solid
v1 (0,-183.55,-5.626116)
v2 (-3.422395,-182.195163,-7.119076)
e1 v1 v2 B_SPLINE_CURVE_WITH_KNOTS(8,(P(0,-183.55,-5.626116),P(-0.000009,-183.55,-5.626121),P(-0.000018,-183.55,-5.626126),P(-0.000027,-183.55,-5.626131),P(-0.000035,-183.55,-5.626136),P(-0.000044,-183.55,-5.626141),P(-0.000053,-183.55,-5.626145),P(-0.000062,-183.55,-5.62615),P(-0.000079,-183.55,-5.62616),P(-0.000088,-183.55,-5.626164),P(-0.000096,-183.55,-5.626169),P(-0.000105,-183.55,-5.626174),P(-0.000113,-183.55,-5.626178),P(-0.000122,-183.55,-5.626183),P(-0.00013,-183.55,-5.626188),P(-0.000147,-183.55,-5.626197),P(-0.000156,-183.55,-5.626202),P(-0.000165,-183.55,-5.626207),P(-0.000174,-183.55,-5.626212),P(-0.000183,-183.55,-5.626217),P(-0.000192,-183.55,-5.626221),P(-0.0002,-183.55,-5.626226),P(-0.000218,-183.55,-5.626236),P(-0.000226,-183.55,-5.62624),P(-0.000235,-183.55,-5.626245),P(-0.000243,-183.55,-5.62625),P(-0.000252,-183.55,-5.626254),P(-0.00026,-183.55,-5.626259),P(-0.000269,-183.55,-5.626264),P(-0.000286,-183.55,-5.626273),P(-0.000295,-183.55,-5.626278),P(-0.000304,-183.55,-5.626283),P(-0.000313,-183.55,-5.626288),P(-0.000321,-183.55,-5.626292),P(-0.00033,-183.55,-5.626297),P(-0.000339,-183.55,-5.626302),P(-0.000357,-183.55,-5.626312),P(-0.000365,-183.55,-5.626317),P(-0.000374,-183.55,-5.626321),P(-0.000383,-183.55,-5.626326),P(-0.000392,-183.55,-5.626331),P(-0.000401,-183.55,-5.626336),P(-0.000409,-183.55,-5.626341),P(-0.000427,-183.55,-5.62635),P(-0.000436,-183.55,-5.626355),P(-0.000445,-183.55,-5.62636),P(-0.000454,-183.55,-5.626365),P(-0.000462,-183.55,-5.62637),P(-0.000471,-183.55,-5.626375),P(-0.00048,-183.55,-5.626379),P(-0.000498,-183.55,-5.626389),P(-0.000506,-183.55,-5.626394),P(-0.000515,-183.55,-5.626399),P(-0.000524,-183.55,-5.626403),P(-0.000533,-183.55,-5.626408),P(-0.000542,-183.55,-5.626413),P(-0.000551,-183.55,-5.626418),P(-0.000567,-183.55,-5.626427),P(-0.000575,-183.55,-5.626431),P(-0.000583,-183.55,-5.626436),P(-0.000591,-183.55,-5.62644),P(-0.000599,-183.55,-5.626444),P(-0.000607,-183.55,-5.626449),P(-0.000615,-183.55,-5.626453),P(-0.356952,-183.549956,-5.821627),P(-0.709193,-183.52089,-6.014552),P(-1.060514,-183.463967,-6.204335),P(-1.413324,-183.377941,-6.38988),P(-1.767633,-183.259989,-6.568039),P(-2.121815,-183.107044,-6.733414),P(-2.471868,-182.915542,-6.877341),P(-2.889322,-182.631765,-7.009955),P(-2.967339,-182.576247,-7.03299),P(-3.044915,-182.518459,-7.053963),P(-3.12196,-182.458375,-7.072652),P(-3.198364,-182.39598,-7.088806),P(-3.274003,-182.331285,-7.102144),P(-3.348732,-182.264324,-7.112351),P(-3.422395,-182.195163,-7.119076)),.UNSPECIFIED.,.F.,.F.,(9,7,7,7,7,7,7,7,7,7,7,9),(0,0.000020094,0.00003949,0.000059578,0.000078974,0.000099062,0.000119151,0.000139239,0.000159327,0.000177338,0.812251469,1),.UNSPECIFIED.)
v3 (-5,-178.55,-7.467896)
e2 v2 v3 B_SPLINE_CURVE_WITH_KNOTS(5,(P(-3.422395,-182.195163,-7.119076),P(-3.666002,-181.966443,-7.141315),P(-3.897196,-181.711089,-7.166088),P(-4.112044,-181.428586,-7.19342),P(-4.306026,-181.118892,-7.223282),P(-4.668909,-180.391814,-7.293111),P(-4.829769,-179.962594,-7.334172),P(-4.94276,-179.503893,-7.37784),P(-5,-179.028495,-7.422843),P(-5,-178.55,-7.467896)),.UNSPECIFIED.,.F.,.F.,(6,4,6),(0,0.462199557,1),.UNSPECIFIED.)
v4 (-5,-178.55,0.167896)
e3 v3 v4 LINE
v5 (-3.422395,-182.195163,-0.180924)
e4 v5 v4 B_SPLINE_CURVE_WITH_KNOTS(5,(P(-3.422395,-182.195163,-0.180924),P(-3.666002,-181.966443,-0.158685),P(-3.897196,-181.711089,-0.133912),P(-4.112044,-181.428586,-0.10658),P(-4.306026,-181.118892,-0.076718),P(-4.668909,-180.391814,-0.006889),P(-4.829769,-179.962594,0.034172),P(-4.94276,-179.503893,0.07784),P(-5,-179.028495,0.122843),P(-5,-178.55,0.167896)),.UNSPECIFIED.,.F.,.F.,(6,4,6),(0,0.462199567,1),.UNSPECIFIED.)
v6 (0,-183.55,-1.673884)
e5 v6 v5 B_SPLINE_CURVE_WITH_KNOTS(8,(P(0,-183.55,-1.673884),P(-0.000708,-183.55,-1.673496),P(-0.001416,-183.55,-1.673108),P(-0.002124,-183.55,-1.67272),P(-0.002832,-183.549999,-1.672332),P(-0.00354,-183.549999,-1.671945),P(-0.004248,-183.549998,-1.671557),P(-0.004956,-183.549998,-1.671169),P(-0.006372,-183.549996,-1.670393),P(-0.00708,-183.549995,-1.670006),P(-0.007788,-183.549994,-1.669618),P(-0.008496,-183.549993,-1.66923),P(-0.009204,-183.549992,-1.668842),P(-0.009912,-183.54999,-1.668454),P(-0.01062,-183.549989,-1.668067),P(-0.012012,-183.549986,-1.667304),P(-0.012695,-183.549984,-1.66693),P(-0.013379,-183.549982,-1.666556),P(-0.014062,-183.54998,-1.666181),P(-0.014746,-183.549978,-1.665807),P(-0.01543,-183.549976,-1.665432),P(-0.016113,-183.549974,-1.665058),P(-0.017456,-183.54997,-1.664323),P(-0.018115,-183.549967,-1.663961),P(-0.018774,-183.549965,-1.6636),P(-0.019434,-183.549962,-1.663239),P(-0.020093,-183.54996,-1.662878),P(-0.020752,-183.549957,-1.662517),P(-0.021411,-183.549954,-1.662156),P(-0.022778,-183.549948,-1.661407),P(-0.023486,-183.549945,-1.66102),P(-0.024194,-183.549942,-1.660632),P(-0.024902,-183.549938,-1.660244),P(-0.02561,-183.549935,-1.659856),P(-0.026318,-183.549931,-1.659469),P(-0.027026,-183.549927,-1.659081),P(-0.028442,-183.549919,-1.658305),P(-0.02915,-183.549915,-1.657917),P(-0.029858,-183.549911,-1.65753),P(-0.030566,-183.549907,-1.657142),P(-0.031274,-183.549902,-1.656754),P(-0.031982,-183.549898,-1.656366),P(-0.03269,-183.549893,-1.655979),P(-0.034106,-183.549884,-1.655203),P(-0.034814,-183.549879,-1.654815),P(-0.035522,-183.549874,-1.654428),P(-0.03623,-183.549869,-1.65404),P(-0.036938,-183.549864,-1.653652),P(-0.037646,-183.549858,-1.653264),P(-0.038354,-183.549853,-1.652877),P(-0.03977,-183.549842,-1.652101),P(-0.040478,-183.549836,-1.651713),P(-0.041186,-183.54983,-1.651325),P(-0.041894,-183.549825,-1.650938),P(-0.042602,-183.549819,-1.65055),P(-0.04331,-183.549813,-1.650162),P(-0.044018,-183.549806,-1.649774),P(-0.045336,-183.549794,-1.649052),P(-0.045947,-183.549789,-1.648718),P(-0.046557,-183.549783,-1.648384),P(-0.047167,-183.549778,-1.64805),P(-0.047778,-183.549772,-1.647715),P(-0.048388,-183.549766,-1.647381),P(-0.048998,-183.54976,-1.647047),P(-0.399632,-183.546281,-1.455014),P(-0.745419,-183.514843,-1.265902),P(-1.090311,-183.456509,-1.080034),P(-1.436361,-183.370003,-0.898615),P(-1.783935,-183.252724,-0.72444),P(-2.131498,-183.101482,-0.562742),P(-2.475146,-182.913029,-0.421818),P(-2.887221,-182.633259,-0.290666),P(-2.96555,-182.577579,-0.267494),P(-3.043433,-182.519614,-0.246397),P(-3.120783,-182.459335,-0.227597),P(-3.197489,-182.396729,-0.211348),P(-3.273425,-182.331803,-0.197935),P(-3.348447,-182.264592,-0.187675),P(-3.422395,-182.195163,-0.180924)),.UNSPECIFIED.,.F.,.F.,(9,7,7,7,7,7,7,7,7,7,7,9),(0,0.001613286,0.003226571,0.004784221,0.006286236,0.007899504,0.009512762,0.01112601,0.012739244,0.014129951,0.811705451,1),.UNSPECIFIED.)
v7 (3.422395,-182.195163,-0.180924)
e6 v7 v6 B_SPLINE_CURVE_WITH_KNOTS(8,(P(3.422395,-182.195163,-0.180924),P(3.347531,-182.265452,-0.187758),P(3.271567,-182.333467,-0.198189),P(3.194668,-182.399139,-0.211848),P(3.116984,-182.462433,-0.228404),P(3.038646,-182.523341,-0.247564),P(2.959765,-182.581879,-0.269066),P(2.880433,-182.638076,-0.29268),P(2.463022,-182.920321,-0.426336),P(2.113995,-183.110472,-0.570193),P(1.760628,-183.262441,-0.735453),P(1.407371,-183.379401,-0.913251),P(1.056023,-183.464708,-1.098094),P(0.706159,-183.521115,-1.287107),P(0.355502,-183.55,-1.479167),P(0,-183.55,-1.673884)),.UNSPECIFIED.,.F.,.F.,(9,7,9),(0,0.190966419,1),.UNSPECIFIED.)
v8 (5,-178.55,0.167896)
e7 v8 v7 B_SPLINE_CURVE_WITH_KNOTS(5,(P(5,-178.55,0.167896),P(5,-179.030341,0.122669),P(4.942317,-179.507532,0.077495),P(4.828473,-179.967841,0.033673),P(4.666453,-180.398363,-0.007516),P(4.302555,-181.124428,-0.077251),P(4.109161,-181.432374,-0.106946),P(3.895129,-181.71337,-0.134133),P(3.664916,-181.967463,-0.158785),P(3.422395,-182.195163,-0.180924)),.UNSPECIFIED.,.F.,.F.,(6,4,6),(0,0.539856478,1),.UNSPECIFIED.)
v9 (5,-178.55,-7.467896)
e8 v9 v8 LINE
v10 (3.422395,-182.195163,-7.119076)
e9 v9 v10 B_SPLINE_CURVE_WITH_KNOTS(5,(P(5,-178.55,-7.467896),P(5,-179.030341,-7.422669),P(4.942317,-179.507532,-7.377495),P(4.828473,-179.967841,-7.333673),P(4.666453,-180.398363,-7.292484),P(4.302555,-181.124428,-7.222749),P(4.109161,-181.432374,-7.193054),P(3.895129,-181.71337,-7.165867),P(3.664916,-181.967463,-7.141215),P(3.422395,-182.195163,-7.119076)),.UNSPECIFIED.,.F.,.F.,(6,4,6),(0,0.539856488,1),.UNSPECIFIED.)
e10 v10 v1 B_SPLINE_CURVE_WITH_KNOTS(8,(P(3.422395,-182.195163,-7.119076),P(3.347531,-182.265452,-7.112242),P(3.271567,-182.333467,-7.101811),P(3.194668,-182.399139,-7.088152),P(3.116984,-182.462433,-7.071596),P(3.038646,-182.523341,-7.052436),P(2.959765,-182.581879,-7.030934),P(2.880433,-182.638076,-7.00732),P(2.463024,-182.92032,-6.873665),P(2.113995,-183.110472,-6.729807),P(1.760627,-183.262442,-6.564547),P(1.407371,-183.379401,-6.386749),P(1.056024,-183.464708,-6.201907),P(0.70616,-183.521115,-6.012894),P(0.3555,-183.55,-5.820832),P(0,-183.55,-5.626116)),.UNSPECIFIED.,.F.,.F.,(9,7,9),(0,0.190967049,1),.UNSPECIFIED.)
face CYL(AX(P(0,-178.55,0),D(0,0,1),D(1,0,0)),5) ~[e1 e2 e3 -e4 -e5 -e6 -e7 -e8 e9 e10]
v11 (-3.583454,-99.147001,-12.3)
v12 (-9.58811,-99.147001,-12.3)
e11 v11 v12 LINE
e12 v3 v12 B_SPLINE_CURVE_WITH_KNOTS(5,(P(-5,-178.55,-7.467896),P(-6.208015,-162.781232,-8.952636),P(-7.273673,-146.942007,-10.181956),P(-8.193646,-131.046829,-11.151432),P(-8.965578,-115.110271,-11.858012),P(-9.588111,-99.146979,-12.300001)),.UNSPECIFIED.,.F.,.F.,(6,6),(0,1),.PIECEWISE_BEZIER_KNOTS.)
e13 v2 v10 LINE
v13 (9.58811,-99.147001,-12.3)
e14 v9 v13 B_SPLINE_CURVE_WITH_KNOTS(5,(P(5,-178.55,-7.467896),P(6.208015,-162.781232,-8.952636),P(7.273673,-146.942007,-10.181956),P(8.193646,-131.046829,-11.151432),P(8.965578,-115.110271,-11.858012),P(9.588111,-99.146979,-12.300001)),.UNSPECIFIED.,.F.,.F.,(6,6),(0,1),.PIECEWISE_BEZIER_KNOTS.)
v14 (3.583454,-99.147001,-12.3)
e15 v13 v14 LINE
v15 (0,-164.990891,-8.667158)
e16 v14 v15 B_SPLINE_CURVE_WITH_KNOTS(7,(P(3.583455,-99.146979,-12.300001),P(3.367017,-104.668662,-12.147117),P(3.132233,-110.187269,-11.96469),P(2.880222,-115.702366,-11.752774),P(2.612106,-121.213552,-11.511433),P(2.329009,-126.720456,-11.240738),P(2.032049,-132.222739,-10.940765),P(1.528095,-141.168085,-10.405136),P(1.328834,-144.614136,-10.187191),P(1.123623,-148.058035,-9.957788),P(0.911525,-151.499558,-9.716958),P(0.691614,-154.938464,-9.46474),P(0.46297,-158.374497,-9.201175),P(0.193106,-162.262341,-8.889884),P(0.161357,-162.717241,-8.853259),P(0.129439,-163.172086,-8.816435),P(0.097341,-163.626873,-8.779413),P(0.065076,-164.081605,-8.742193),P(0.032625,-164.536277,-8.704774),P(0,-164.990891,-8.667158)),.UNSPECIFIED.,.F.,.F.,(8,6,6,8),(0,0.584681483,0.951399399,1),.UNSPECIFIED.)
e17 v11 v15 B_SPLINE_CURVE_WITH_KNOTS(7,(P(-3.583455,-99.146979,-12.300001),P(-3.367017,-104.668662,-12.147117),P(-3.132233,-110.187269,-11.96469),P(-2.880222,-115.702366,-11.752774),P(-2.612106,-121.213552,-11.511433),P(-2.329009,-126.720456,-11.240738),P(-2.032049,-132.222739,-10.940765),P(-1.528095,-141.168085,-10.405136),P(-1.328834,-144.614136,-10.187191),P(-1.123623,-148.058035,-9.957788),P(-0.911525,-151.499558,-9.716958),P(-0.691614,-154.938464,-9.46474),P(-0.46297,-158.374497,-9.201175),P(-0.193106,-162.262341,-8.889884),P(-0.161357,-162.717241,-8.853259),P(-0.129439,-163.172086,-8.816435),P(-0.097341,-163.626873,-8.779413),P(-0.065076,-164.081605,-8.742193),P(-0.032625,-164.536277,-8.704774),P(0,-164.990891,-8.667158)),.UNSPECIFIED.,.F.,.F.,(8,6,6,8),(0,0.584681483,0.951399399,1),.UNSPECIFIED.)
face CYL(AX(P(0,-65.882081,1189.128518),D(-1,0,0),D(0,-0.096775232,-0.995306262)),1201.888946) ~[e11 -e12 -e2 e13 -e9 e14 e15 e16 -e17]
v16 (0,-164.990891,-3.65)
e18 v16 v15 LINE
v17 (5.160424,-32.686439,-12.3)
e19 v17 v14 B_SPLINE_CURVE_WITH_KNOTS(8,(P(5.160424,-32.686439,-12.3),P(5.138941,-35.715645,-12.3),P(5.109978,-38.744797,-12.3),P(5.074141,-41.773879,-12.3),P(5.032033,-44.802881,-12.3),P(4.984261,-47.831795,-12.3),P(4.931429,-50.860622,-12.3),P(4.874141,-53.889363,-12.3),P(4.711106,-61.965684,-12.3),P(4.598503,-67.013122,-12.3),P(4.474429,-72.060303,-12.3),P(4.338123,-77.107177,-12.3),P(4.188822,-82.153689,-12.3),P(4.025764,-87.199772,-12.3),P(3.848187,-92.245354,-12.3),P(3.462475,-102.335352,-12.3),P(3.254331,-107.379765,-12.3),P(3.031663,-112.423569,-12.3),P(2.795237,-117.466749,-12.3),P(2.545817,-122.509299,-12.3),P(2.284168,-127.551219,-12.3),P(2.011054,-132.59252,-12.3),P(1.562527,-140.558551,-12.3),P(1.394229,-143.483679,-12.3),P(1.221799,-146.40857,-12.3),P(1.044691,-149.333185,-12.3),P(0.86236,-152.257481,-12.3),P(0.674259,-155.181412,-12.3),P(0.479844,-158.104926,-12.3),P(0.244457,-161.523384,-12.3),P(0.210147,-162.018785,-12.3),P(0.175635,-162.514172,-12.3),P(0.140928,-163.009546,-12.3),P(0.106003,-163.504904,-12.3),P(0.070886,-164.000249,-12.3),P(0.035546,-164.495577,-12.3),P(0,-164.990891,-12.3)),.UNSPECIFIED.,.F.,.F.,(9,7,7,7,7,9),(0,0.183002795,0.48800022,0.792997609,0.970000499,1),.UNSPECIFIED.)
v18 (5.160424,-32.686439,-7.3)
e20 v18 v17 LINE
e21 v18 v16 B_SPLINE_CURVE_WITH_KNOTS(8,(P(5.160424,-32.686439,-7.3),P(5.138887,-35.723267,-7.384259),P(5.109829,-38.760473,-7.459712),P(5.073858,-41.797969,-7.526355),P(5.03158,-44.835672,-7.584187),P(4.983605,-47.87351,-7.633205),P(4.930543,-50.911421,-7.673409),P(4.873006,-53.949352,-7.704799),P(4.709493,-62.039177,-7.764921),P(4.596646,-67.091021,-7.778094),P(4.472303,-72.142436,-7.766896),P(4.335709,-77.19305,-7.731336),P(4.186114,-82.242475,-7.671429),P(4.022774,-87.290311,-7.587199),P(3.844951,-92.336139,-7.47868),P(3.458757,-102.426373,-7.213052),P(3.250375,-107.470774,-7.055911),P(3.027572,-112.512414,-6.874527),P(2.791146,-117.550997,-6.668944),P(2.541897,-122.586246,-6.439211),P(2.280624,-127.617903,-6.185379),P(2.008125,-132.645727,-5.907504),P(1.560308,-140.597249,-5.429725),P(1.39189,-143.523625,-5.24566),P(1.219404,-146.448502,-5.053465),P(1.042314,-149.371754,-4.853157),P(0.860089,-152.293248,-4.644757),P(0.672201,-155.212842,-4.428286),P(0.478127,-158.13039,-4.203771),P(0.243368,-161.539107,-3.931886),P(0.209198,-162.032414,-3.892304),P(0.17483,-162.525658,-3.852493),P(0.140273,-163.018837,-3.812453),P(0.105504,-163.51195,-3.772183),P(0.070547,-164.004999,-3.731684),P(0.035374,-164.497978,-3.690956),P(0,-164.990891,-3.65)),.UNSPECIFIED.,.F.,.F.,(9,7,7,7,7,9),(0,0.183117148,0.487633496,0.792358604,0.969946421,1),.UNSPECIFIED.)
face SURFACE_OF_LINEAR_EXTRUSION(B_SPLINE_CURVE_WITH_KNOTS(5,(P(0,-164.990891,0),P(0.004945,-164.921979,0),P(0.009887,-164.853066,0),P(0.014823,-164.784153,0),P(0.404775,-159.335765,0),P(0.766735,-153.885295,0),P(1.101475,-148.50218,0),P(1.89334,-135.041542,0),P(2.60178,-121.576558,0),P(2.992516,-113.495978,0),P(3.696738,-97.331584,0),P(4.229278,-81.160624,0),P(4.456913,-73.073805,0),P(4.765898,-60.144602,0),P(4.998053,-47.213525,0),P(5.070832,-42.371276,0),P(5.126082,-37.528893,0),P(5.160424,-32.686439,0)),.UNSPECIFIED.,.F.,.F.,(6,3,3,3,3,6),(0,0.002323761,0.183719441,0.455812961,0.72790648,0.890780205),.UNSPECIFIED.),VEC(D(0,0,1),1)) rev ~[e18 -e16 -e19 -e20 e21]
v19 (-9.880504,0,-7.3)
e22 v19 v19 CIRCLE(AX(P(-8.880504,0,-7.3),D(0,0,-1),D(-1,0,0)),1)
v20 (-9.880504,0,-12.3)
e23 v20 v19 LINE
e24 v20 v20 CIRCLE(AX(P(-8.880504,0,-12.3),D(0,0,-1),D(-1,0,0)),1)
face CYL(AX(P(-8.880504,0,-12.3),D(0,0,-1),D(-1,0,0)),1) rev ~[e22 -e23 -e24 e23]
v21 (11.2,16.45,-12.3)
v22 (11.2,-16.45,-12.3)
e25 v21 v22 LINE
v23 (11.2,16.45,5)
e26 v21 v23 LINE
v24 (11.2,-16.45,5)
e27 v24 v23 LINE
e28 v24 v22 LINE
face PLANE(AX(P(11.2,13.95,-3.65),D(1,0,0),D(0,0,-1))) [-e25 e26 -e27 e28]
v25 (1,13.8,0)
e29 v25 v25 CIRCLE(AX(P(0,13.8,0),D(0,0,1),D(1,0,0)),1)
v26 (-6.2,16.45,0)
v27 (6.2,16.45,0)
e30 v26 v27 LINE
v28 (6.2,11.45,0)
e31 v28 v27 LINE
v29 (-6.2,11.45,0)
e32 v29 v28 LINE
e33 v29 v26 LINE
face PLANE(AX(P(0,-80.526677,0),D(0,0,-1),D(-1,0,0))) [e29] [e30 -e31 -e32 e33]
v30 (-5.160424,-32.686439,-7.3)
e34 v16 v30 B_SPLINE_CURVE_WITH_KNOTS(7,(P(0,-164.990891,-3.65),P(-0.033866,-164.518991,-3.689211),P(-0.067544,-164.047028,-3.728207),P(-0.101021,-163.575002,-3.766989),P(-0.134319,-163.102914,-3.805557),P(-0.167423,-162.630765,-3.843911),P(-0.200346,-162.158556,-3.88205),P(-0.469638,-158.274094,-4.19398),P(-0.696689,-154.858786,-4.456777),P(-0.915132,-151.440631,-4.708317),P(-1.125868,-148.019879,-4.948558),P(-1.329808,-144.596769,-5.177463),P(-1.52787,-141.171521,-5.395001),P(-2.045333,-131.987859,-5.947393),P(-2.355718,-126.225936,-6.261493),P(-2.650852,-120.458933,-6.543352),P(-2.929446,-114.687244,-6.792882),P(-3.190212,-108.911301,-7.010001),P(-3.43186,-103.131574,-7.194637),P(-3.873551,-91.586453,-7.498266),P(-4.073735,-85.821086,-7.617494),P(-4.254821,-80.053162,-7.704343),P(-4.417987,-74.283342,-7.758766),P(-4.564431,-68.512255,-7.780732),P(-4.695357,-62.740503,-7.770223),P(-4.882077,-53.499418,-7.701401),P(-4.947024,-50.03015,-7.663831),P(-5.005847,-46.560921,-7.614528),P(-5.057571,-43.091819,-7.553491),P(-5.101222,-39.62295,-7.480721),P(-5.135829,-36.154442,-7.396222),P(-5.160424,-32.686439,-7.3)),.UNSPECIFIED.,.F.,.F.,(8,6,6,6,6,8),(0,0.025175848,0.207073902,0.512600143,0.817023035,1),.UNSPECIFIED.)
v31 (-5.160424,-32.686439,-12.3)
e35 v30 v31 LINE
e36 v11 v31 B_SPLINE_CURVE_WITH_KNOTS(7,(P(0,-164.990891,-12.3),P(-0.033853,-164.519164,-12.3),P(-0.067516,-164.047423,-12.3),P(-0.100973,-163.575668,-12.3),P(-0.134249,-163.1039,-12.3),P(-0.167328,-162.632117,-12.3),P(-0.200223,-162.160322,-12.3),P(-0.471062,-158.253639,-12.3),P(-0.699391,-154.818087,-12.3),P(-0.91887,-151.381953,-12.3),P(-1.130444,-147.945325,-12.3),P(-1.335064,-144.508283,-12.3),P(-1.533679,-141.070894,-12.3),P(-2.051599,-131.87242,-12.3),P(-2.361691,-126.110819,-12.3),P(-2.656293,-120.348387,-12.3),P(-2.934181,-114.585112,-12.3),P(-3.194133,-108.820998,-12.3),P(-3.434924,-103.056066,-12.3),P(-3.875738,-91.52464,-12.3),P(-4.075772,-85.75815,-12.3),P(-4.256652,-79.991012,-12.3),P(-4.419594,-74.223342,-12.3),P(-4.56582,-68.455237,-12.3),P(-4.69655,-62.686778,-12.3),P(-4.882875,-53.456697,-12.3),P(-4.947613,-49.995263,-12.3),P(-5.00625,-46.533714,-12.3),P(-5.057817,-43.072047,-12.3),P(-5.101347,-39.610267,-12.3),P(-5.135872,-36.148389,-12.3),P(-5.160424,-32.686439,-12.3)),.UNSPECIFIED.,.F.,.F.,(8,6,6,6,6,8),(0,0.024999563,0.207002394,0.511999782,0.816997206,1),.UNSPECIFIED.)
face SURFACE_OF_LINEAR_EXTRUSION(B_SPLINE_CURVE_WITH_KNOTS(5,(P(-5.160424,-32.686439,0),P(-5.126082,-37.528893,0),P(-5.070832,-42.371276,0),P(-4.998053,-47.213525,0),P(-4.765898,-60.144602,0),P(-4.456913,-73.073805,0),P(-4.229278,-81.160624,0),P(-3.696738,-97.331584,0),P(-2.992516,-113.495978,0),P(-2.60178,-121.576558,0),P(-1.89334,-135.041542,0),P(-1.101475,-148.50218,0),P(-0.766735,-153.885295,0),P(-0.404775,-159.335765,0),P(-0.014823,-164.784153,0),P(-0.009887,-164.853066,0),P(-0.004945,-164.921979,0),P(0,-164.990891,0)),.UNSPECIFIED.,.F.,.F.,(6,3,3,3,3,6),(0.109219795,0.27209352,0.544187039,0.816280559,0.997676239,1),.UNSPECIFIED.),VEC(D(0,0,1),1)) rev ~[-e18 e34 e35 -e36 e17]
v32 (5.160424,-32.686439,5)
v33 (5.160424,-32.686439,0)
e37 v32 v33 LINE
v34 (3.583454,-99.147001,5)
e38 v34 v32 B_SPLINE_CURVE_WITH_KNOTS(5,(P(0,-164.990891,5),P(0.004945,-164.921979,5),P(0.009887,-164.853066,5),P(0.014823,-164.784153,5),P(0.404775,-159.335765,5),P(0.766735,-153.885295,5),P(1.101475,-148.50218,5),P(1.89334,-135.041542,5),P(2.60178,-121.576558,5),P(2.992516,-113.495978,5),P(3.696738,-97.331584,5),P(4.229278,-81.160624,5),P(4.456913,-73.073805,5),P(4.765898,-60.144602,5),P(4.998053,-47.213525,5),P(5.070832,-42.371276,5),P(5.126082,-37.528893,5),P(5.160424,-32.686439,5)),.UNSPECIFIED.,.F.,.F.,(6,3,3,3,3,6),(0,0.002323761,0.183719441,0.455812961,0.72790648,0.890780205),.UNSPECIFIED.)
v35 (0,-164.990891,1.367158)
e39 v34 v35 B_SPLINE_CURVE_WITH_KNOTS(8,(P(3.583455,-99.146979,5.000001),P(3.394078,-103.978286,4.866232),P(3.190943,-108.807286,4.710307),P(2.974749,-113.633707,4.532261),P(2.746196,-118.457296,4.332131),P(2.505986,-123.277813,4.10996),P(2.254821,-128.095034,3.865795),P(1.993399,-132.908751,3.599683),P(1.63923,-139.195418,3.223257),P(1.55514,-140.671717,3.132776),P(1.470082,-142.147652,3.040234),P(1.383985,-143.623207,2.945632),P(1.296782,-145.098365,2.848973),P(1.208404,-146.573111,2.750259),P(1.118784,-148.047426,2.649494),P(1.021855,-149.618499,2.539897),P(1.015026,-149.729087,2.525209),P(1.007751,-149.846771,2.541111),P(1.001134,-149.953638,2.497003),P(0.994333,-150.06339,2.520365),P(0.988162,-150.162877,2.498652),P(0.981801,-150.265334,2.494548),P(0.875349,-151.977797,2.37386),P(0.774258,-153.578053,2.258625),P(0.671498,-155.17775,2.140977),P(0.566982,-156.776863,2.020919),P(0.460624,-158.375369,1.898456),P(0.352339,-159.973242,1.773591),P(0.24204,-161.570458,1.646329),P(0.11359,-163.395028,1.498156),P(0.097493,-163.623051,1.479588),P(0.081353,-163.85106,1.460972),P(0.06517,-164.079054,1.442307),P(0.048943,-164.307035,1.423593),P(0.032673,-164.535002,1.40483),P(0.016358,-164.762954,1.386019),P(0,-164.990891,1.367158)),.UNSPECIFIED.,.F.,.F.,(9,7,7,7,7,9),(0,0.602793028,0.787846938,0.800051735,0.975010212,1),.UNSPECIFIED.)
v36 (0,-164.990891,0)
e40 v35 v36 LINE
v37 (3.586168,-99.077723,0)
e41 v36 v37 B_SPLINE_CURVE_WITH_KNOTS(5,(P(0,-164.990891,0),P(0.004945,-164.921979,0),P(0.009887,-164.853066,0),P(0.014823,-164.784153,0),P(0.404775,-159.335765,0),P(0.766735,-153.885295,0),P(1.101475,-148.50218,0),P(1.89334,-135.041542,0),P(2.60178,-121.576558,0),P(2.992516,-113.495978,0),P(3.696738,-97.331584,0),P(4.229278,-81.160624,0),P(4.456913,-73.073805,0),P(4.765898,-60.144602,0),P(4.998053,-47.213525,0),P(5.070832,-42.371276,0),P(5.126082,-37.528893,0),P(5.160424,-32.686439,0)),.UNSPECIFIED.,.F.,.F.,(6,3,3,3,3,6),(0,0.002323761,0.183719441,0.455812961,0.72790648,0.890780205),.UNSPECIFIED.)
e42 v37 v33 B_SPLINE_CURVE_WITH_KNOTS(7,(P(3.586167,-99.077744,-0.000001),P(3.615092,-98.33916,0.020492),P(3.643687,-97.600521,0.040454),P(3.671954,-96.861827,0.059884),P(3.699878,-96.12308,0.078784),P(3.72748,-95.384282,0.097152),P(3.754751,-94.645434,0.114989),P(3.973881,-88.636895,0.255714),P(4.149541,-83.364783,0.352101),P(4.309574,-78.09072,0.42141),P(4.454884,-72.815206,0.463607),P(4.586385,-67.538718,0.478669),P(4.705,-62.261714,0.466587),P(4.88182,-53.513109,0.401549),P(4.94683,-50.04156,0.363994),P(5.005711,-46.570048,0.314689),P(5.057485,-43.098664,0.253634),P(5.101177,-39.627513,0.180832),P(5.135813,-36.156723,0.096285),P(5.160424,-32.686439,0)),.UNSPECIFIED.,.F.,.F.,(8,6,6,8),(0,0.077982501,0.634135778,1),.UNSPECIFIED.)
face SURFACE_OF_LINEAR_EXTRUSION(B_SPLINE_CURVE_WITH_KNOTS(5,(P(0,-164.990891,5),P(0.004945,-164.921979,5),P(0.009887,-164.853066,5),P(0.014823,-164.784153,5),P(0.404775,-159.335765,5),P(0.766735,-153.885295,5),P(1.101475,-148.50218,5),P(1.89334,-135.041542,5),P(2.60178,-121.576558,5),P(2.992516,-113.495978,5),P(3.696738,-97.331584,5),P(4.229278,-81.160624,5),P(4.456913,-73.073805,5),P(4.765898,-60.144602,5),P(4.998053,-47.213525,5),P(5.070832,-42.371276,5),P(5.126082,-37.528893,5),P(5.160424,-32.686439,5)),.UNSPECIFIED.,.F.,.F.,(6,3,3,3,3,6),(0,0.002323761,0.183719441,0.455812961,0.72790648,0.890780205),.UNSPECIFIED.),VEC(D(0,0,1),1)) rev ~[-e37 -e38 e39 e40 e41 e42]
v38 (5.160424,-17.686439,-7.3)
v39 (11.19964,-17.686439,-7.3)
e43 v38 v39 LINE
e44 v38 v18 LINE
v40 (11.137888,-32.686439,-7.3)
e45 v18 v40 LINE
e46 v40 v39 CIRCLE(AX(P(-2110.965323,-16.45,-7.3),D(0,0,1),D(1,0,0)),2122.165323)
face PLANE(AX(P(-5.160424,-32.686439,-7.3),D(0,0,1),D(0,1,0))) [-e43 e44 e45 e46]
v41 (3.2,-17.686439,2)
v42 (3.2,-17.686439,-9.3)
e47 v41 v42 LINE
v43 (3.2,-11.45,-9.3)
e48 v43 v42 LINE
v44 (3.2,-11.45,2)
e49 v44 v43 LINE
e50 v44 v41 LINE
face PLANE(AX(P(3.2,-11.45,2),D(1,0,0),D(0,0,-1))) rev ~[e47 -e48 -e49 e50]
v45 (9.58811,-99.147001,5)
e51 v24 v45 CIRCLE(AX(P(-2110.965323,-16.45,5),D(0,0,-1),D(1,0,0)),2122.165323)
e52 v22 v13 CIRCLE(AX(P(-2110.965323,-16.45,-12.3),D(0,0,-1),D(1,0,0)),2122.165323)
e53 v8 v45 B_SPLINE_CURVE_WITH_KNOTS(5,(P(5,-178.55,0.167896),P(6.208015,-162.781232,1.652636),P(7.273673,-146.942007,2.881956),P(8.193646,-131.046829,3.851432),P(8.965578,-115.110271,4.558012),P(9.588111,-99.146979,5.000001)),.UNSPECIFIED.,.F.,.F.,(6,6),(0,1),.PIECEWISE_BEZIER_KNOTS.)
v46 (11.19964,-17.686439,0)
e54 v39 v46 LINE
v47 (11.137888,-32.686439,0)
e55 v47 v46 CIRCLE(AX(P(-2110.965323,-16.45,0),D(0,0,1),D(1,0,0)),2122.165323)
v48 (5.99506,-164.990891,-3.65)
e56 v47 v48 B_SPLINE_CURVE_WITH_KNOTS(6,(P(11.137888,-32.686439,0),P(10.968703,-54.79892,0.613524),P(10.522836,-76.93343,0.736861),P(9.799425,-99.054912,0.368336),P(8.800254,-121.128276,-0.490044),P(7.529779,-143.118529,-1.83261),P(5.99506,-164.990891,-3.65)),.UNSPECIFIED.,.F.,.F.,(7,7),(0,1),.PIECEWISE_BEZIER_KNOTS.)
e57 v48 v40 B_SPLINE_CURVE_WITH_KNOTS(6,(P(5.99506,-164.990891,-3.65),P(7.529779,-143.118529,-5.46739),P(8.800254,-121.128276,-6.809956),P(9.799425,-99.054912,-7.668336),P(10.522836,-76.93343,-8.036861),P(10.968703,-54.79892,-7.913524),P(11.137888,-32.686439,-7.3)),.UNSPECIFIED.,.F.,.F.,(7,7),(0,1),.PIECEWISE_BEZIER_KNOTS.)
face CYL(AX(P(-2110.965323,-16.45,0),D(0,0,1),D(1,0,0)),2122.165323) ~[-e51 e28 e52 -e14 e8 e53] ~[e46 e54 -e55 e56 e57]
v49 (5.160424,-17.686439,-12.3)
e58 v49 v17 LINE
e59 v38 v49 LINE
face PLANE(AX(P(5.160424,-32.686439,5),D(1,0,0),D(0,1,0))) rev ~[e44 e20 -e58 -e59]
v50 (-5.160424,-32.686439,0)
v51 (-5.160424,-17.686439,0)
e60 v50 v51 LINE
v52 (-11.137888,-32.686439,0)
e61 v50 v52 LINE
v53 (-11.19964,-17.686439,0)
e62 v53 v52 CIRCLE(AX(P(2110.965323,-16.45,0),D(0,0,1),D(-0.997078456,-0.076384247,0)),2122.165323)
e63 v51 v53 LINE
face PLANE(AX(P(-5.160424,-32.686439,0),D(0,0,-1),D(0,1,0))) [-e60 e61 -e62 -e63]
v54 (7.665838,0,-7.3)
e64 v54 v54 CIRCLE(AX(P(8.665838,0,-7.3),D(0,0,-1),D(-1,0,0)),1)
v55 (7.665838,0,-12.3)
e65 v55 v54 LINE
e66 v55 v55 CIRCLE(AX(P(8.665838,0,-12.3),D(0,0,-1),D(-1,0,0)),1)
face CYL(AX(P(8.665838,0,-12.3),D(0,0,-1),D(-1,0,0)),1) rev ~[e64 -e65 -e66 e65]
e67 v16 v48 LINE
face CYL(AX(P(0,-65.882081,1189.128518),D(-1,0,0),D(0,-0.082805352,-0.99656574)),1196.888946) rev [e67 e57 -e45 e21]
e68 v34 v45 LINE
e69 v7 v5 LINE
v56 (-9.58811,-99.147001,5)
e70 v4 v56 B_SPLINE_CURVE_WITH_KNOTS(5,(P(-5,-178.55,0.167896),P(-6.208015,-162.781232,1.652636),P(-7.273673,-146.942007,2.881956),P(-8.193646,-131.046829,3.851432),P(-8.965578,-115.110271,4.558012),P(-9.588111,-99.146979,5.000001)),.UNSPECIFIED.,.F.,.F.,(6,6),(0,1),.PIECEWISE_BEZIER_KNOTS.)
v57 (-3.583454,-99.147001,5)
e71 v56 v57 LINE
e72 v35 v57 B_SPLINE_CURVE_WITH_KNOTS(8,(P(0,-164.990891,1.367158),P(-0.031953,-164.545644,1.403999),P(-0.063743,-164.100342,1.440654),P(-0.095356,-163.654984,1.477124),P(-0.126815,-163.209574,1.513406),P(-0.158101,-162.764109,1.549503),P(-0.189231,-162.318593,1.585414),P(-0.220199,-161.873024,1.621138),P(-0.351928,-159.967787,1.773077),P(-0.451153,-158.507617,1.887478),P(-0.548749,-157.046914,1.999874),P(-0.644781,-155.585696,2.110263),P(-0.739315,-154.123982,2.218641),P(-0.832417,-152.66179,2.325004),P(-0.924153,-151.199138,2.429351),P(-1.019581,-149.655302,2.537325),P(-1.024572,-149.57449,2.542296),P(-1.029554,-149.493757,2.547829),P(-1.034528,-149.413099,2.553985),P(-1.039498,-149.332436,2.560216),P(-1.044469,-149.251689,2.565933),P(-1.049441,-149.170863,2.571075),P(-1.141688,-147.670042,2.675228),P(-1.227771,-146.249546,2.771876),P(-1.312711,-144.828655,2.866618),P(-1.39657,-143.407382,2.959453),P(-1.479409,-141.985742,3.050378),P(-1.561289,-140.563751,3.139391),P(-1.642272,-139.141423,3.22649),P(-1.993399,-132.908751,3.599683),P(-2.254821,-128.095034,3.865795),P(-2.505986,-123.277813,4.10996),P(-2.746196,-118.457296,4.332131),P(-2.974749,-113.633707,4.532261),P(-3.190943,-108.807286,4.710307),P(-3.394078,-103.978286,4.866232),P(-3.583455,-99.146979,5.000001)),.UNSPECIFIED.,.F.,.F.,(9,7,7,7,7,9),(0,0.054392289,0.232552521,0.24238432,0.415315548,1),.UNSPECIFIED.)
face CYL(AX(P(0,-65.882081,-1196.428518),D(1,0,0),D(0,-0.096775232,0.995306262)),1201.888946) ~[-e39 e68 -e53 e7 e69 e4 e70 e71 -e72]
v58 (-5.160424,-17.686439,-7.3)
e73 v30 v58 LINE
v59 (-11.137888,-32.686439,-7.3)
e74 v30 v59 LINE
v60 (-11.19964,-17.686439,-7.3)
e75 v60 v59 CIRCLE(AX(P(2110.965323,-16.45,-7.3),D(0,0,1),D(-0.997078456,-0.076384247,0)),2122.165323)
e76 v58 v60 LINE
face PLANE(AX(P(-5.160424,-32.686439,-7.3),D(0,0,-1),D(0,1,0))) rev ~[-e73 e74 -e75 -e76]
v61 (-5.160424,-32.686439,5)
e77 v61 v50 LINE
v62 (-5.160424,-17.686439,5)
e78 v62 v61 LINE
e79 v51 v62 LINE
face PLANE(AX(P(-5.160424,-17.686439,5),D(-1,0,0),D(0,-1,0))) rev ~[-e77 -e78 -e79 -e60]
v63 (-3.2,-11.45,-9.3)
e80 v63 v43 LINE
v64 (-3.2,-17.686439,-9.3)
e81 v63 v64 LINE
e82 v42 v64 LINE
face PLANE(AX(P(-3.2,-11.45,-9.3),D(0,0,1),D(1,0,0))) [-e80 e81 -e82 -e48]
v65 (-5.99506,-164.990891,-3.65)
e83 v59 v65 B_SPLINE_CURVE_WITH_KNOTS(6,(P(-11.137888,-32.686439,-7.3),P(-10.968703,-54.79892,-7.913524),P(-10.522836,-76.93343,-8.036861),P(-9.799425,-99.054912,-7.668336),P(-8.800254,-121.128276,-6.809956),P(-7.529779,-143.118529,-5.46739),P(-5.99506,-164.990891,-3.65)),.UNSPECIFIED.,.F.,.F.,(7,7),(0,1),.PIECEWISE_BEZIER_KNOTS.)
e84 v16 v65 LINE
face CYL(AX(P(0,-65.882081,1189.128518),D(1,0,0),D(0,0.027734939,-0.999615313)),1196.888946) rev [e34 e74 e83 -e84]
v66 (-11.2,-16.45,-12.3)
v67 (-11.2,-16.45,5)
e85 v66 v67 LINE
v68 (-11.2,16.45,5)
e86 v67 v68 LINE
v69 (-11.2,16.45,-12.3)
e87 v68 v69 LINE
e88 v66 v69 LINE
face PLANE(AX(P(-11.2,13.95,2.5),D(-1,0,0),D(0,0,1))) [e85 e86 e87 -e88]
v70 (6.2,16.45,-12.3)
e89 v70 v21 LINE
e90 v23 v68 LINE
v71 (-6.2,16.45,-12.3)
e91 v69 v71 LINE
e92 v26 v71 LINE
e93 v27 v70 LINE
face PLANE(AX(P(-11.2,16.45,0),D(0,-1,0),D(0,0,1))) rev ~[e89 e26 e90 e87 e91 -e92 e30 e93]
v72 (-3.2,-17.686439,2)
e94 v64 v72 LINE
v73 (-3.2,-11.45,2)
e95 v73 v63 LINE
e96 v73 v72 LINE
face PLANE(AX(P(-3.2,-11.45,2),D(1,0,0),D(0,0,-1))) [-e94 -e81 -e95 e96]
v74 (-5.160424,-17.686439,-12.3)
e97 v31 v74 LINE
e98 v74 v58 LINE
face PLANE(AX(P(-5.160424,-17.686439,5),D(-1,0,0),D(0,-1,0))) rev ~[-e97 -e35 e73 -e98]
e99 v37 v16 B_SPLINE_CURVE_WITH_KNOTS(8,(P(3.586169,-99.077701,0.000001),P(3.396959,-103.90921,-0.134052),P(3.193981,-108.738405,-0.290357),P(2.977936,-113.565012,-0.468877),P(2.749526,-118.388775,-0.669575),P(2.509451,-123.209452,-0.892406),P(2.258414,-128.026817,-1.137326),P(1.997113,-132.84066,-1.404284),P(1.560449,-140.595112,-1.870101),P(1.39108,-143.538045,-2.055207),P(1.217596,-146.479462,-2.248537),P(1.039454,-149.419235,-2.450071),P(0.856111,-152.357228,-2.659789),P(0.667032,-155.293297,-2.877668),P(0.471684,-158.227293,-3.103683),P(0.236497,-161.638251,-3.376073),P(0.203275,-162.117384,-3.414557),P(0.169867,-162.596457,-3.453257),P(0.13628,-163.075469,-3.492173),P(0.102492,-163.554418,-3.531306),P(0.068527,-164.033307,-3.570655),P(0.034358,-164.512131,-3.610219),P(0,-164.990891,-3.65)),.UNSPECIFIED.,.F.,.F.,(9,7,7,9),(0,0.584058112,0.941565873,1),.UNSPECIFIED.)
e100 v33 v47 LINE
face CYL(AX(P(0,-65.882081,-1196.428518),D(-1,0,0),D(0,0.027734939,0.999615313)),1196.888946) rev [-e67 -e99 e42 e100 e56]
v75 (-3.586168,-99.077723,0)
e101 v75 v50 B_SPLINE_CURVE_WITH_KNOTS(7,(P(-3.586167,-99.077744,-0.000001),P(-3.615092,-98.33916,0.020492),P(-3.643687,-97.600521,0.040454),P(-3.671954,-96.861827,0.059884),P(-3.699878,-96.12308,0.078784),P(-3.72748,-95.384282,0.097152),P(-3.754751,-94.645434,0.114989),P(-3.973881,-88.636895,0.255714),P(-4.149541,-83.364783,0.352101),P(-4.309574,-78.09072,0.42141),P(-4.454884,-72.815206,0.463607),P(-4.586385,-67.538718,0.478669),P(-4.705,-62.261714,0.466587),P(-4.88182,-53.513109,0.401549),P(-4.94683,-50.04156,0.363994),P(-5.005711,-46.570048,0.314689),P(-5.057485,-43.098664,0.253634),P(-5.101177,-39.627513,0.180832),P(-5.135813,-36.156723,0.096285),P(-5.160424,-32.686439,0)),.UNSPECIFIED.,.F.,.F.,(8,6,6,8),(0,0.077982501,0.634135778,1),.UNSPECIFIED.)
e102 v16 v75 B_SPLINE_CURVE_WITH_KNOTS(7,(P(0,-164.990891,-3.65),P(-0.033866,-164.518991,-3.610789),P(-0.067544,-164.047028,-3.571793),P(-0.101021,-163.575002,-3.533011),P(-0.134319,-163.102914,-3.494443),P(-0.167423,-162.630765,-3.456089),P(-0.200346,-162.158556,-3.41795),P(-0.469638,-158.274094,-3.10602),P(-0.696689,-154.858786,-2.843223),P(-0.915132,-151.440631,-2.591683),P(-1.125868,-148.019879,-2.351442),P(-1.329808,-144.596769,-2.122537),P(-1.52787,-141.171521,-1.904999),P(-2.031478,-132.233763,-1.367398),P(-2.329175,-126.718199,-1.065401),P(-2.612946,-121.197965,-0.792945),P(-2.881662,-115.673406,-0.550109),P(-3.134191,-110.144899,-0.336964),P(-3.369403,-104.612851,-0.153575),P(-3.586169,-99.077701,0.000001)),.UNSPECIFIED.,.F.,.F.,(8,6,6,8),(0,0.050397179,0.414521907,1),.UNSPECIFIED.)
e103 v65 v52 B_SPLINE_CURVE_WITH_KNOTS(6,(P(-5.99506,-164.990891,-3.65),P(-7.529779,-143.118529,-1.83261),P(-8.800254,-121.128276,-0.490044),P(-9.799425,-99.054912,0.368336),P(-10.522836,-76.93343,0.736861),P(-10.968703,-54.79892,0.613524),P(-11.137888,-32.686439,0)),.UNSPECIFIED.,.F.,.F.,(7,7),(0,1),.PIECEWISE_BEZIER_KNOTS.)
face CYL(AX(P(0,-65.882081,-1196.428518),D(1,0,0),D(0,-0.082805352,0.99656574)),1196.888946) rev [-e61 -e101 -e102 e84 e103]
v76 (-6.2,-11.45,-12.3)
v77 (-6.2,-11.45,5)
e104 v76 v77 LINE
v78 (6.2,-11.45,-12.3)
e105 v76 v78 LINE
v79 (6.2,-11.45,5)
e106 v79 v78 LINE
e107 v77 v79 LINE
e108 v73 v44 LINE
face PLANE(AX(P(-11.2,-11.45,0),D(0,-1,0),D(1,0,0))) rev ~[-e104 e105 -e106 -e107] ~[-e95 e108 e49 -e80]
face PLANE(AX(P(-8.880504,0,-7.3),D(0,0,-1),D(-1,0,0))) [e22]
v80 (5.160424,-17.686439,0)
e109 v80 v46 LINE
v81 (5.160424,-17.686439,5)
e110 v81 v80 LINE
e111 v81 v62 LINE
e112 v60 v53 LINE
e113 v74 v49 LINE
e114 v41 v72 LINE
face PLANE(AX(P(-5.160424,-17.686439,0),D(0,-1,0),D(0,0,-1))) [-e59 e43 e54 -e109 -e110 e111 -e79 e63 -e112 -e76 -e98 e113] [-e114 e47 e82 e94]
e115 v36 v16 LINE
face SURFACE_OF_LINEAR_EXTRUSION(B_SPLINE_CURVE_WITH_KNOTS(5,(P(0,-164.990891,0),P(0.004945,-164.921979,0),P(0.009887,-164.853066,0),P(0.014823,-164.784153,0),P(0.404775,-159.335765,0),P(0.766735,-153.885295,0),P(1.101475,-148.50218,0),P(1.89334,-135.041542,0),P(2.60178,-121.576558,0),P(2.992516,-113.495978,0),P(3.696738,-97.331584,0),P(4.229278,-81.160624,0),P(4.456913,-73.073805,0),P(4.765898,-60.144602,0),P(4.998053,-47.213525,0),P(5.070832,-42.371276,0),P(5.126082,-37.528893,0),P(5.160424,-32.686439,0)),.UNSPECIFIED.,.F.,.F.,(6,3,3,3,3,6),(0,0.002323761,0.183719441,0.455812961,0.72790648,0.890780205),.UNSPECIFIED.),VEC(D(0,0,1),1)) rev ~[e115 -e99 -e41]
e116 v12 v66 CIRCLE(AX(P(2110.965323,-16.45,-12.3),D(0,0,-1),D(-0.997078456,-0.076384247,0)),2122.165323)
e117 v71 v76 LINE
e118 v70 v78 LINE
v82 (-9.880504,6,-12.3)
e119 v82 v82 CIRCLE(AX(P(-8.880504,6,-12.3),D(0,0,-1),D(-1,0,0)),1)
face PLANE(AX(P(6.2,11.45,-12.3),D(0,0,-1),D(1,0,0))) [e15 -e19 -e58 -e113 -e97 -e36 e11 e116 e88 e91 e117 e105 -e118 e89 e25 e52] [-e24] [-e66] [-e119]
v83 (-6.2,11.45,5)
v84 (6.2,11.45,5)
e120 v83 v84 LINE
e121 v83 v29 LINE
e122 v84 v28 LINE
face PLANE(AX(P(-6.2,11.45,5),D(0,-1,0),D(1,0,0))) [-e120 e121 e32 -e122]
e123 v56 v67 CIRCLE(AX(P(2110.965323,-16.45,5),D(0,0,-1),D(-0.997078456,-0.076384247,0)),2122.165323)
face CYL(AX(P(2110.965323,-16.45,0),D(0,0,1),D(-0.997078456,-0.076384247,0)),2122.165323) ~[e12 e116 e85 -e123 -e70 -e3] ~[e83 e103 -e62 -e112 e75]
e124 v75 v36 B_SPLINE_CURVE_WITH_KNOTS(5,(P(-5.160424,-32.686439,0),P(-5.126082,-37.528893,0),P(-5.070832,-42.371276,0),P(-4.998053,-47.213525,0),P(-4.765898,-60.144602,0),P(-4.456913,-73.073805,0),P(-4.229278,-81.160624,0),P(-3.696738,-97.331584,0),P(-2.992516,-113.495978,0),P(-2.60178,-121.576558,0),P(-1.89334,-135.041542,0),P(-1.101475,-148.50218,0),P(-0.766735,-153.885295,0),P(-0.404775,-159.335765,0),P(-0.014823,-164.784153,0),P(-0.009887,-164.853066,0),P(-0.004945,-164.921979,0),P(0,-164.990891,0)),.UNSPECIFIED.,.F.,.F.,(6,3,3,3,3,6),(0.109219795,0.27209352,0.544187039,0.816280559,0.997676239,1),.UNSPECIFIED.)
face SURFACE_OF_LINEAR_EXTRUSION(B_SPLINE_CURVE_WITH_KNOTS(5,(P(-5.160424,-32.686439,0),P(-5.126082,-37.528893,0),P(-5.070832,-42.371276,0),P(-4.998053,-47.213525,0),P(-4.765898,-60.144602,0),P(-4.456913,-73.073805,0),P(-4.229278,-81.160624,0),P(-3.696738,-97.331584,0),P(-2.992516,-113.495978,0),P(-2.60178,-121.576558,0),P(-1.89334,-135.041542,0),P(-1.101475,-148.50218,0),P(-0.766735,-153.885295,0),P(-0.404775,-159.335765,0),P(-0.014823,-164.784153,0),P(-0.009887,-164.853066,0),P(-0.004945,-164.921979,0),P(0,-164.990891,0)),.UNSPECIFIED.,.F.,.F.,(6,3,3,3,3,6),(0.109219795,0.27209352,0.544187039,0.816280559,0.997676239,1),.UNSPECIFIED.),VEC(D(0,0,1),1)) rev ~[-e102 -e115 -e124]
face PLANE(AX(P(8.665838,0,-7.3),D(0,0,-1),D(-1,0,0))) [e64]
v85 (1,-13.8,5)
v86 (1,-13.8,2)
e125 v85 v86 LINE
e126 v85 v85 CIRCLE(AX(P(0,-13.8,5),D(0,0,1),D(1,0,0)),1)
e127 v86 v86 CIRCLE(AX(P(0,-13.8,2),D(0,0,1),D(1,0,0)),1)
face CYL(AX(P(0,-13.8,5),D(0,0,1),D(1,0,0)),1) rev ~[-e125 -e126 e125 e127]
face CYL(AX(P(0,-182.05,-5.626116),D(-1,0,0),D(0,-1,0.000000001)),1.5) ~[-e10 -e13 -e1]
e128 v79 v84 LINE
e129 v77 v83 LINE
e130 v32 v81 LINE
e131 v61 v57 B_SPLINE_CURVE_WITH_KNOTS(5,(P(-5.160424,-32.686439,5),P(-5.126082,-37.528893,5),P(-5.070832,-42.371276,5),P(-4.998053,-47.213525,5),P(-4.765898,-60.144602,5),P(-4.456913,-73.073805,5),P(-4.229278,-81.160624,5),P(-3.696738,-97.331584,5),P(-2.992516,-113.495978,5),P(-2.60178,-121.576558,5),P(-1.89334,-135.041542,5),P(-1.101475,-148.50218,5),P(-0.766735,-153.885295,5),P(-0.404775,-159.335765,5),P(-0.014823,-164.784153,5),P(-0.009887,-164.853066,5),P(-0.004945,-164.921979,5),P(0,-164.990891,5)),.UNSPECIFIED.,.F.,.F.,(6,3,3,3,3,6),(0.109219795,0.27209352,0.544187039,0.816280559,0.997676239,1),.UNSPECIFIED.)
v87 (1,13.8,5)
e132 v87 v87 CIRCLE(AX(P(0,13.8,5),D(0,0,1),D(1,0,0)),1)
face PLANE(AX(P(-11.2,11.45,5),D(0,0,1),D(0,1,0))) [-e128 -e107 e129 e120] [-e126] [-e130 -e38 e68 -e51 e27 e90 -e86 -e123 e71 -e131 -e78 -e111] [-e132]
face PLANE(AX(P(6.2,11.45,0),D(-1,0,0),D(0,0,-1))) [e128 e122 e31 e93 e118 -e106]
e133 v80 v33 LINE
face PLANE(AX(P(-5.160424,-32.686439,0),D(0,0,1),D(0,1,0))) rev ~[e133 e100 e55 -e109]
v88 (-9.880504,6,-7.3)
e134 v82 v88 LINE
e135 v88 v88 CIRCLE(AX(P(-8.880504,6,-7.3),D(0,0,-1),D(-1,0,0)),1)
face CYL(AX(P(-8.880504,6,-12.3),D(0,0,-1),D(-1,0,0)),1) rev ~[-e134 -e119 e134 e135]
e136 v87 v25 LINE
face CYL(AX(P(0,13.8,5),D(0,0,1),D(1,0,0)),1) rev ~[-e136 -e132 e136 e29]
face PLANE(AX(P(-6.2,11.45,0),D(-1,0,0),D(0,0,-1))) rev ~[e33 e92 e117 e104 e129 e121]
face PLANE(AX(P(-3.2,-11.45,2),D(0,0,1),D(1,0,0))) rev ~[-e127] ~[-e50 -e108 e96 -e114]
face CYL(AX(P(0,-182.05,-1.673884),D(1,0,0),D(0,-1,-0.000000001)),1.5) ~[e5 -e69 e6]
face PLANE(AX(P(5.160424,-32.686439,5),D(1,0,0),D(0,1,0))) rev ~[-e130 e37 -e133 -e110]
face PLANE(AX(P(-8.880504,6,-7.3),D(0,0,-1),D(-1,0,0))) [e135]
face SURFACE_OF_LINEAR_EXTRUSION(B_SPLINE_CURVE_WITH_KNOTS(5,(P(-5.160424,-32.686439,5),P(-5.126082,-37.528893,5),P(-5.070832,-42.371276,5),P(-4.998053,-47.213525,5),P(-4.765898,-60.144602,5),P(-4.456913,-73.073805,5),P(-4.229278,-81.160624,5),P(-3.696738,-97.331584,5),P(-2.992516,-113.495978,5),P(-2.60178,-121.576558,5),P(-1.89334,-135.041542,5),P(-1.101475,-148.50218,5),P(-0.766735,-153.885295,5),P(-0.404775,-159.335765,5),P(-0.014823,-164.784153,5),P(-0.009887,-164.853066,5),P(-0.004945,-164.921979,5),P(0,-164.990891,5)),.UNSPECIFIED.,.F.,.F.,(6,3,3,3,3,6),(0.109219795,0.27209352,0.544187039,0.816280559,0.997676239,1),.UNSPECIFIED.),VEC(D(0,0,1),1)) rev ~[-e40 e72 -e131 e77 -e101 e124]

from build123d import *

# Parameters (mm, degrees)
BOSS_EXTRUDE2_DEPTH      = 5
SKETCH4_W                = 12.4
SKETCH4_H                = 22.9
CUT_EXTRUDE1_DEPTH       = 5
SKETCH5_R                = 1
CUT_EXTRUDE2_DEPTH       = 5
CUT_EXTRUDE3_DEPTH       = 5
SKETCH6_W                = 5
SKETCH6_H                = 22.9
BOSS_EXTRUDE3_DEPTH      = 12.3
SKETCH7_R                = 1
CUT_EXTRUDE4_DEPTH       = 5
BOSS_EXTRUDE4_DEPTH      = 12.3
CUT_EXTRUDE5_DEPTH       = 121
CUT_EXTRUDE7_DEPTH       = 185.302285774
CUT_EXTRUDE8_DEPTH       = 121
CUT_EXTRUDE12_DEPTH      = 60.5
CUT_EXTRUDE13_REACH      = 174.902
SKETCH16_W               = 6.4
SKETCH16_H               = 11.3
CUT_EXTRUDE14_DEPTH      = 185.703363647
SKETCH23_W               = 7.3
SKETCH23_H               = 15
CUT_EXTRUDE15_DEPTH      = 185.687725676
CUT_EXTRUDE15_DEPTH_BACK = 185.687725676
SKETCH24_W               = 5
SKETCH24_H               = 12.3
BOSS_EXTRUDE5_DEPTH      = 5
BOSS_EXTRUDE6_REACH      = 187.32
SKETCH25_W               = 17.3
SKETCH25_H               = 5
BOSS_EXTRUDE7_REACH      = 187.32
SKETCH26_W               = 5
SKETCH26_H               = 5


with BuildPart() as part:
    # Sketch1 → Boss-Extrude2 (new body)
    with BuildSketch(Plane.XY):
        with BuildLine():
            Line((-6.2, 16.45), (6.2, 16.45))
            ThreePointArc((6.2, 16.45), (9.735533906, 14.985533906), (11.2, 11.45))
            Line((11.2, 11.45), (11.2, -16.45))
            ThreePointArc((11.2, -16.45), (9.649433537, -97.559262726), (5, -178.55))
            ThreePointArc((5, -178.55), (0, -183.55), (-5, -178.55))
            ThreePointArc((-5, -178.55), (-9.649433537, -97.559262726), (-11.2, -16.45))
            Line((-11.2, -16.45), (-11.2, 11.45))
            ThreePointArc((-11.2, 11.45), (-9.735533906, 14.985533906), (-6.2, 16.45))
        make_face()
    extrude(amount=BOSS_EXTRUDE2_DEPTH)

    # Sketch4 → Cut-Extrude1 (cut)
    with BuildSketch(Plane.XY.offset(5)):
        Rectangle(SKETCH4_W, SKETCH4_H)
    extrude(amount=-CUT_EXTRUDE1_DEPTH, mode=Mode.SUBTRACT)

    # Sketch5 → Cut-Extrude2 (cut)
    with BuildSketch(Plane.XY.offset(5)):
        with Locations((0, 13.8)):
            Circle(SKETCH5_R)
        with Locations((0, -13.8)):
            Circle(SKETCH5_R)
    extrude(amount=-CUT_EXTRUDE2_DEPTH, mode=Mode.SUBTRACT)

    # 3DSketch1 → Cut-Extrude3 (cut)
    with BuildSketch(Plane(origin=(-5.160423987, -32.686439405, 5), x_dir=(0.03897452460138957, -0.9992402045715013, 0), z_dir=(0, 0, 1))):
        with BuildLine():
            Line((0, 0), (0.402250143, 10.313006243))
            add(Edge.make_bspline(
                [(132.405052787, 0), (132.33638536, 0.007627552), (132.26771744, 0.015250757), (132.19904902, 0.022869576), (126.769998736, 0.624873123), (121.337777255, 1.198987474), (115.971798773, 1.743277878), (102.55225111, 3.059162741), (89.125108856, 4.291856269), (81.065896409, 4.997231834), (64.94123124, 6.330918517), (48.803313346, 7.493309622), (40.731510594, 8.035951572), (27.824174172, 8.848610973), (14.911969374, 9.58457196), (10.076236862, 9.846020434), (5.23968635, 10.089957993), (0.402250143, 10.313006243)],
                knots=[0, 0, 0, 0, 0, 0, 0.002323761, 0.002323761, 0.002323761, 0.183719441, 0.183719441, 0.183719441, 0.455812961, 0.455812961, 0.455812961, 0.72790648, 0.72790648, 0.72790648, 0.890780205, 0.890780205, 0.890780205, 0.890780205, 0.890780205, 0.890780205], degree=5))
            add(Edge.make_bspline(
                [(0, 0), (4.840113133, -0.15441643), (9.680970327, -0.287938029), (14.522375928, -0.403938196), (27.452676969, -0.675942436), (40.384098451, -0.871102077), (48.473645133, -0.958819983), (64.653074032, -1.056939836), (80.832632652, -0.983252259), (88.922302572, -0.907750283), (102.404667084, -0.724639456), (115.885939838, -0.457998492), (121.278011015, -0.333316775), (126.738446926, -0.184061374), (132.197893558, -0.0067545), (132.266946789, -0.004507398), (132.335999865, -0.002255886), (132.405052787, 0)],
                knots=[0.109219795, 0.109219795, 0.109219795, 0.109219795, 0.109219795, 0.109219795, 0.27209352, 0.27209352, 0.27209352, 0.544187039, 0.544187039, 0.544187039, 0.816280559, 0.816280559, 0.816280559, 0.997676239, 0.997676239, 0.997676239, 1, 1, 1, 1, 1, 1], degree=5))
        make_face()
    extrude(amount=-CUT_EXTRUDE3_DEPTH, mode=Mode.SUBTRACT)

    # Sketch6 → Boss-Extrude3 (add)
    with BuildSketch(Plane(origin=(0, 0, 0), x_dir=(-1, 0, 0), z_dir=(0, 0, -1))):
        with Locations((-8.7, 0)):
            Rectangle(SKETCH6_W, SKETCH6_H)
        with Locations((8.7, 0)):
            Rectangle(SKETCH6_W, SKETCH6_H)
    extrude(amount=BOSS_EXTRUDE3_DEPTH)

    # Sketch7 → Cut-Extrude4 (cut)
    with BuildSketch(Plane(origin=(0, 0, -12.3), x_dir=(-1, 0, 0), z_dir=(0, 0, -1))):
        with Locations((-8.665838134, 0)):
            Circle(SKETCH7_R)
        with Locations((8.880503913, 0)):
            Circle(SKETCH7_R)
        with Locations((8.880503913, 6)):
            Circle(SKETCH7_R)
    extrude(amount=-CUT_EXTRUDE4_DEPTH, mode=Mode.SUBTRACT)

    # Sketch8 → Boss-Extrude4 (add)
    with BuildSketch(Plane(origin=(0, 0, 0), x_dir=(-1, 0, 0), z_dir=(0, 0, -1))):
        with BuildLine():
            Line((11.2, -16.45), (11.2, -11.45))
            Line((11.2, -11.45), (6.2, -11.45))
            Line((6.2, -11.45), (-6.2, -11.45))
            Line((-6.2, -11.45), (-11.2, -11.45))
            Line((-11.2, -11.45), (-11.2, -16.45))
            ThreePointArc((-11.2, -16.45), (-9.649433537, -97.559262726), (-5, -178.55))
            ThreePointArc((-5, -178.55), (0, -183.55), (5, -178.55))
            ThreePointArc((5, -178.55), (9.649433537, -97.559262726), (11.2, -16.45))
        make_face()
    extrude(amount=BOSS_EXTRUDE4_DEPTH)

    # Sketch10 → Cut-Extrude5 (cut)
    with BuildSketch(Plane.XY):
        with BuildLine():
            Line((5.16042399, -32.686439405), (-5.160423987, -32.686439405))
            add(Edge.make_bspline(
                [(-5.160423987, -32.686439405), (-5.126081984, -37.528893349), (-5.070832025, -42.371276423), (-4.998052574, -47.213524597), (-4.765897811, -60.144602491), (-4.456913166, -73.073804992), (-4.229278188, -81.160624037), (-3.69673794, -97.331584054), (-2.992515745, -113.495977582), (-2.601780096, -121.576558353), (-1.893339649, -135.041542369), (-1.10147508, -148.502179909), (-0.766734685, -153.885294805), (-0.404774794, -159.335764743), (-0.0148233, -164.784152861), (-0.009886589, -164.853066046), (-0.004945476, -164.921978904), (1e-09, -164.990891438)],
                knots=[0.109219795, 0.109219795, 0.109219795, 0.109219795, 0.109219795, 0.109219795, 0.27209352, 0.27209352, 0.27209352, 0.544187039, 0.544187039, 0.544187039, 0.816280559, 0.816280559, 0.816280559, 0.997676239, 0.997676239, 0.997676239, 1, 1, 1, 1, 1, 1], degree=5))
            add(Edge.make_bspline(
                [(1e-09, -164.990891438), (0.004945477, -164.921978904), (0.00988659, -164.853066046), (0.014823301, -164.784152861), (0.404774795, -159.335764743), (0.766734686, -153.885294805), (1.101475081, -148.502179909), (1.89333965, -135.041542369), (2.601780097, -121.576558353), (2.992515747, -113.495977582), (3.696737942, -97.331584054), (4.22927819, -81.160624037), (4.456913168, -73.073804992), (4.765897813, -60.144602491), (4.998052577, -47.213524597), (5.070832028, -42.371276423), (5.126081987, -37.528893349), (5.16042399, -32.686439405)],
                knots=[0, 0, 0, 0, 0, 0, 0.002323761, 0.002323761, 0.002323761, 0.183719441, 0.183719441, 0.183719441, 0.455812961, 0.455812961, 0.455812961, 0.72790648, 0.72790648, 0.72790648, 0.890780205, 0.890780205, 0.890780205, 0.890780205, 0.890780205, 0.890780205], degree=5))
        make_face()
    extrude(amount=-CUT_EXTRUDE5_DEPTH, mode=Mode.SUBTRACT)

    # Sketch12 → Cut-Extrude7 (cut, through all)
    with BuildSketch(Plane(origin=(0, 0, 0), x_dir=(0, 0, -1), z_dir=(1, 0, 0))):
        with BuildLine():
            Line((0, -32.686439405), (7.3, -32.686439405))
            ThreePointArc((7.3, -32.686439405), (7.305216991, -98.889157238), (3.65, -164.99089144))
            ThreePointArc((3.65, -164.99089144), (-0.005216991, -98.889157238), (0, -32.686439405))
        make_face()
    extrude(amount=-CUT_EXTRUDE7_DEPTH, mode=Mode.SUBTRACT)

    # Sketch14 → Cut-Extrude8 (cut)
    with BuildSketch(Plane(origin=(0, 0, 0), x_dir=(0, 0, -1), z_dir=(1, 0, 0))):
        with BuildLine():
            Line((7.3, -32.686439405), (0, -32.686439405))
            ThreePointArc((0, -32.686439405), (-0.005216991, -98.889157238), (3.65, -164.99089144))
            ThreePointArc((3.65, -164.99089144), (7.305216991, -98.889157238), (7.3, -32.686439405))
        make_face()
    extrude(amount=CUT_EXTRUDE8_DEPTH, mode=Mode.SUBTRACT)

    # Sketch15 → Cut-Extrude12 (cut, symmetric)
    with BuildSketch(Plane(origin=(0, 0, 0), x_dir=(0, 0, -1), z_dir=(1, 0, 0))):
        with BuildLine():
            Line((12.301916168, -32.686439405), (24.156676666, -32.686439405))
            Line((24.156676666, -32.686439405), (24.156676666, -183.55))
            Line((24.156676666, -183.55), (5.626116445, -183.55))
            ThreePointArc((5.626116445, -183.55), (6.634148123, -183.160797973), (7.119075837, -182.195162848))
            ThreePointArc((7.119075837, -182.195162848), (12.038912499, -107.52151756), (12.301916168, -32.686439405))
        make_face()
        with BuildLine():
            Line((-5.001916168, -32.686439405), (-15.644111431, -32.686439405))
            Line((-15.644111431, -32.686439405), (-15.644111431, -183.55))
            Line((-15.644111431, -183.55), (1.673883555, -183.55))
            ThreePointArc((1.673883555, -183.55), (0.665851877, -183.160797973), (0.180924163, -182.195162848))
            ThreePointArc((0.180924163, -182.195162848), (-4.738912499, -107.52151756), (-5.001916168, -32.686439405))
        make_face()
    extrude(amount=CUT_EXTRUDE12_DEPTH, both=True, mode=Mode.SUBTRACT)

    # Sketch16 → Cut-Extrude13 (cut, up to next)
    with BuildSketch(Plane(origin=(0, -11.45, 0), x_dir=(1, 0, 0), z_dir=(0, 1, 0)), mode=Mode.PRIVATE) as cut_extrude13_sk1:
        with Locations((0, 3.65)):
            Rectangle(SKETCH16_W, SKETCH16_H)
    cut_extrude13_tool1 = extrude(cut_extrude13_sk1.sketch, amount=-CUT_EXTRUDE13_REACH, mode=Mode.PRIVATE) & part.part
    add(cut_extrude13_tool1.solids().sort_by_distance((0, -11.45, -3.65))[0], mode=Mode.SUBTRACT)

    # Sketch21 → Cut-Extrude14 (cut, through all)
    with BuildSketch(Plane.XY.offset(5)):
        Polygon((-5.160423987, -32.686439405), (5.16042399, -32.686439405), (5.160423987, -17.686439405), (-5.160423987, -17.686439405), align=None)
    extrude(amount=-CUT_EXTRUDE14_DEPTH, mode=Mode.SUBTRACT)

    # Sketch23 → Cut-Extrude15 (cut, two sides)
    with BuildSketch(Plane(origin=(-5.160423987, 0, 0), x_dir=(0, 0, -1), z_dir=(1, 0, 0))) as cut_extrude15_sk:
        with Locations((3.65, -25.186439405)):
            Rectangle(SKETCH23_W, SKETCH23_H)
    extrude(amount=CUT_EXTRUDE15_DEPTH, mode=Mode.SUBTRACT)
    extrude(cut_extrude15_sk.sketch, amount=-CUT_EXTRUDE15_DEPTH_BACK, mode=Mode.SUBTRACT)

    # Sketch24 → Boss-Extrude5 (add)
    with BuildSketch(Plane(origin=(0, 11.45, 0), x_dir=(1, 0, 0), z_dir=(0, 1, 0))):
        with Locations((8.7, 6.15)):
            Rectangle(SKETCH24_W, SKETCH24_H)
        with Locations((-8.7, 6.15)):
            Rectangle(SKETCH24_W, SKETCH24_H)
    extrude(amount=BOSS_EXTRUDE5_DEPTH)

    # Sketch25 → Boss-Extrude6 (add, up to next)
    with BuildSketch(Plane(origin=(11.2, 0, 0), x_dir=(0, 0, -1), z_dir=(1, 0, 0)), mode=Mode.PRIVATE) as boss_extrude6_sk1:
        with Locations((3.65, 13.95)):
            Rectangle(SKETCH25_W, SKETCH25_H)
    boss_extrude6_tool1 = extrude(boss_extrude6_sk1.sketch, amount=-BOSS_EXTRUDE6_REACH, mode=Mode.PRIVATE) - part.part
    add(boss_extrude6_tool1.solids().sort_by_distance((11.2, 13.95, -3.65))[0])

    # Sketch26 → Boss-Extrude7 (add, up to next)
    with BuildSketch(Plane.ZY.offset(11.2), mode=Mode.PRIVATE) as boss_extrude7_sk1:
        with Locations((2.5, 13.95)):
            Rectangle(SKETCH26_W, SKETCH26_H)
    boss_extrude7_tool1 = extrude(boss_extrude7_sk1.sketch, amount=-BOSS_EXTRUDE7_REACH, mode=Mode.PRIVATE) - part.part
    add(boss_extrude7_tool1.solids().sort_by_distance((-11.2, 13.95, 2.5))[0])


solid = part.part
